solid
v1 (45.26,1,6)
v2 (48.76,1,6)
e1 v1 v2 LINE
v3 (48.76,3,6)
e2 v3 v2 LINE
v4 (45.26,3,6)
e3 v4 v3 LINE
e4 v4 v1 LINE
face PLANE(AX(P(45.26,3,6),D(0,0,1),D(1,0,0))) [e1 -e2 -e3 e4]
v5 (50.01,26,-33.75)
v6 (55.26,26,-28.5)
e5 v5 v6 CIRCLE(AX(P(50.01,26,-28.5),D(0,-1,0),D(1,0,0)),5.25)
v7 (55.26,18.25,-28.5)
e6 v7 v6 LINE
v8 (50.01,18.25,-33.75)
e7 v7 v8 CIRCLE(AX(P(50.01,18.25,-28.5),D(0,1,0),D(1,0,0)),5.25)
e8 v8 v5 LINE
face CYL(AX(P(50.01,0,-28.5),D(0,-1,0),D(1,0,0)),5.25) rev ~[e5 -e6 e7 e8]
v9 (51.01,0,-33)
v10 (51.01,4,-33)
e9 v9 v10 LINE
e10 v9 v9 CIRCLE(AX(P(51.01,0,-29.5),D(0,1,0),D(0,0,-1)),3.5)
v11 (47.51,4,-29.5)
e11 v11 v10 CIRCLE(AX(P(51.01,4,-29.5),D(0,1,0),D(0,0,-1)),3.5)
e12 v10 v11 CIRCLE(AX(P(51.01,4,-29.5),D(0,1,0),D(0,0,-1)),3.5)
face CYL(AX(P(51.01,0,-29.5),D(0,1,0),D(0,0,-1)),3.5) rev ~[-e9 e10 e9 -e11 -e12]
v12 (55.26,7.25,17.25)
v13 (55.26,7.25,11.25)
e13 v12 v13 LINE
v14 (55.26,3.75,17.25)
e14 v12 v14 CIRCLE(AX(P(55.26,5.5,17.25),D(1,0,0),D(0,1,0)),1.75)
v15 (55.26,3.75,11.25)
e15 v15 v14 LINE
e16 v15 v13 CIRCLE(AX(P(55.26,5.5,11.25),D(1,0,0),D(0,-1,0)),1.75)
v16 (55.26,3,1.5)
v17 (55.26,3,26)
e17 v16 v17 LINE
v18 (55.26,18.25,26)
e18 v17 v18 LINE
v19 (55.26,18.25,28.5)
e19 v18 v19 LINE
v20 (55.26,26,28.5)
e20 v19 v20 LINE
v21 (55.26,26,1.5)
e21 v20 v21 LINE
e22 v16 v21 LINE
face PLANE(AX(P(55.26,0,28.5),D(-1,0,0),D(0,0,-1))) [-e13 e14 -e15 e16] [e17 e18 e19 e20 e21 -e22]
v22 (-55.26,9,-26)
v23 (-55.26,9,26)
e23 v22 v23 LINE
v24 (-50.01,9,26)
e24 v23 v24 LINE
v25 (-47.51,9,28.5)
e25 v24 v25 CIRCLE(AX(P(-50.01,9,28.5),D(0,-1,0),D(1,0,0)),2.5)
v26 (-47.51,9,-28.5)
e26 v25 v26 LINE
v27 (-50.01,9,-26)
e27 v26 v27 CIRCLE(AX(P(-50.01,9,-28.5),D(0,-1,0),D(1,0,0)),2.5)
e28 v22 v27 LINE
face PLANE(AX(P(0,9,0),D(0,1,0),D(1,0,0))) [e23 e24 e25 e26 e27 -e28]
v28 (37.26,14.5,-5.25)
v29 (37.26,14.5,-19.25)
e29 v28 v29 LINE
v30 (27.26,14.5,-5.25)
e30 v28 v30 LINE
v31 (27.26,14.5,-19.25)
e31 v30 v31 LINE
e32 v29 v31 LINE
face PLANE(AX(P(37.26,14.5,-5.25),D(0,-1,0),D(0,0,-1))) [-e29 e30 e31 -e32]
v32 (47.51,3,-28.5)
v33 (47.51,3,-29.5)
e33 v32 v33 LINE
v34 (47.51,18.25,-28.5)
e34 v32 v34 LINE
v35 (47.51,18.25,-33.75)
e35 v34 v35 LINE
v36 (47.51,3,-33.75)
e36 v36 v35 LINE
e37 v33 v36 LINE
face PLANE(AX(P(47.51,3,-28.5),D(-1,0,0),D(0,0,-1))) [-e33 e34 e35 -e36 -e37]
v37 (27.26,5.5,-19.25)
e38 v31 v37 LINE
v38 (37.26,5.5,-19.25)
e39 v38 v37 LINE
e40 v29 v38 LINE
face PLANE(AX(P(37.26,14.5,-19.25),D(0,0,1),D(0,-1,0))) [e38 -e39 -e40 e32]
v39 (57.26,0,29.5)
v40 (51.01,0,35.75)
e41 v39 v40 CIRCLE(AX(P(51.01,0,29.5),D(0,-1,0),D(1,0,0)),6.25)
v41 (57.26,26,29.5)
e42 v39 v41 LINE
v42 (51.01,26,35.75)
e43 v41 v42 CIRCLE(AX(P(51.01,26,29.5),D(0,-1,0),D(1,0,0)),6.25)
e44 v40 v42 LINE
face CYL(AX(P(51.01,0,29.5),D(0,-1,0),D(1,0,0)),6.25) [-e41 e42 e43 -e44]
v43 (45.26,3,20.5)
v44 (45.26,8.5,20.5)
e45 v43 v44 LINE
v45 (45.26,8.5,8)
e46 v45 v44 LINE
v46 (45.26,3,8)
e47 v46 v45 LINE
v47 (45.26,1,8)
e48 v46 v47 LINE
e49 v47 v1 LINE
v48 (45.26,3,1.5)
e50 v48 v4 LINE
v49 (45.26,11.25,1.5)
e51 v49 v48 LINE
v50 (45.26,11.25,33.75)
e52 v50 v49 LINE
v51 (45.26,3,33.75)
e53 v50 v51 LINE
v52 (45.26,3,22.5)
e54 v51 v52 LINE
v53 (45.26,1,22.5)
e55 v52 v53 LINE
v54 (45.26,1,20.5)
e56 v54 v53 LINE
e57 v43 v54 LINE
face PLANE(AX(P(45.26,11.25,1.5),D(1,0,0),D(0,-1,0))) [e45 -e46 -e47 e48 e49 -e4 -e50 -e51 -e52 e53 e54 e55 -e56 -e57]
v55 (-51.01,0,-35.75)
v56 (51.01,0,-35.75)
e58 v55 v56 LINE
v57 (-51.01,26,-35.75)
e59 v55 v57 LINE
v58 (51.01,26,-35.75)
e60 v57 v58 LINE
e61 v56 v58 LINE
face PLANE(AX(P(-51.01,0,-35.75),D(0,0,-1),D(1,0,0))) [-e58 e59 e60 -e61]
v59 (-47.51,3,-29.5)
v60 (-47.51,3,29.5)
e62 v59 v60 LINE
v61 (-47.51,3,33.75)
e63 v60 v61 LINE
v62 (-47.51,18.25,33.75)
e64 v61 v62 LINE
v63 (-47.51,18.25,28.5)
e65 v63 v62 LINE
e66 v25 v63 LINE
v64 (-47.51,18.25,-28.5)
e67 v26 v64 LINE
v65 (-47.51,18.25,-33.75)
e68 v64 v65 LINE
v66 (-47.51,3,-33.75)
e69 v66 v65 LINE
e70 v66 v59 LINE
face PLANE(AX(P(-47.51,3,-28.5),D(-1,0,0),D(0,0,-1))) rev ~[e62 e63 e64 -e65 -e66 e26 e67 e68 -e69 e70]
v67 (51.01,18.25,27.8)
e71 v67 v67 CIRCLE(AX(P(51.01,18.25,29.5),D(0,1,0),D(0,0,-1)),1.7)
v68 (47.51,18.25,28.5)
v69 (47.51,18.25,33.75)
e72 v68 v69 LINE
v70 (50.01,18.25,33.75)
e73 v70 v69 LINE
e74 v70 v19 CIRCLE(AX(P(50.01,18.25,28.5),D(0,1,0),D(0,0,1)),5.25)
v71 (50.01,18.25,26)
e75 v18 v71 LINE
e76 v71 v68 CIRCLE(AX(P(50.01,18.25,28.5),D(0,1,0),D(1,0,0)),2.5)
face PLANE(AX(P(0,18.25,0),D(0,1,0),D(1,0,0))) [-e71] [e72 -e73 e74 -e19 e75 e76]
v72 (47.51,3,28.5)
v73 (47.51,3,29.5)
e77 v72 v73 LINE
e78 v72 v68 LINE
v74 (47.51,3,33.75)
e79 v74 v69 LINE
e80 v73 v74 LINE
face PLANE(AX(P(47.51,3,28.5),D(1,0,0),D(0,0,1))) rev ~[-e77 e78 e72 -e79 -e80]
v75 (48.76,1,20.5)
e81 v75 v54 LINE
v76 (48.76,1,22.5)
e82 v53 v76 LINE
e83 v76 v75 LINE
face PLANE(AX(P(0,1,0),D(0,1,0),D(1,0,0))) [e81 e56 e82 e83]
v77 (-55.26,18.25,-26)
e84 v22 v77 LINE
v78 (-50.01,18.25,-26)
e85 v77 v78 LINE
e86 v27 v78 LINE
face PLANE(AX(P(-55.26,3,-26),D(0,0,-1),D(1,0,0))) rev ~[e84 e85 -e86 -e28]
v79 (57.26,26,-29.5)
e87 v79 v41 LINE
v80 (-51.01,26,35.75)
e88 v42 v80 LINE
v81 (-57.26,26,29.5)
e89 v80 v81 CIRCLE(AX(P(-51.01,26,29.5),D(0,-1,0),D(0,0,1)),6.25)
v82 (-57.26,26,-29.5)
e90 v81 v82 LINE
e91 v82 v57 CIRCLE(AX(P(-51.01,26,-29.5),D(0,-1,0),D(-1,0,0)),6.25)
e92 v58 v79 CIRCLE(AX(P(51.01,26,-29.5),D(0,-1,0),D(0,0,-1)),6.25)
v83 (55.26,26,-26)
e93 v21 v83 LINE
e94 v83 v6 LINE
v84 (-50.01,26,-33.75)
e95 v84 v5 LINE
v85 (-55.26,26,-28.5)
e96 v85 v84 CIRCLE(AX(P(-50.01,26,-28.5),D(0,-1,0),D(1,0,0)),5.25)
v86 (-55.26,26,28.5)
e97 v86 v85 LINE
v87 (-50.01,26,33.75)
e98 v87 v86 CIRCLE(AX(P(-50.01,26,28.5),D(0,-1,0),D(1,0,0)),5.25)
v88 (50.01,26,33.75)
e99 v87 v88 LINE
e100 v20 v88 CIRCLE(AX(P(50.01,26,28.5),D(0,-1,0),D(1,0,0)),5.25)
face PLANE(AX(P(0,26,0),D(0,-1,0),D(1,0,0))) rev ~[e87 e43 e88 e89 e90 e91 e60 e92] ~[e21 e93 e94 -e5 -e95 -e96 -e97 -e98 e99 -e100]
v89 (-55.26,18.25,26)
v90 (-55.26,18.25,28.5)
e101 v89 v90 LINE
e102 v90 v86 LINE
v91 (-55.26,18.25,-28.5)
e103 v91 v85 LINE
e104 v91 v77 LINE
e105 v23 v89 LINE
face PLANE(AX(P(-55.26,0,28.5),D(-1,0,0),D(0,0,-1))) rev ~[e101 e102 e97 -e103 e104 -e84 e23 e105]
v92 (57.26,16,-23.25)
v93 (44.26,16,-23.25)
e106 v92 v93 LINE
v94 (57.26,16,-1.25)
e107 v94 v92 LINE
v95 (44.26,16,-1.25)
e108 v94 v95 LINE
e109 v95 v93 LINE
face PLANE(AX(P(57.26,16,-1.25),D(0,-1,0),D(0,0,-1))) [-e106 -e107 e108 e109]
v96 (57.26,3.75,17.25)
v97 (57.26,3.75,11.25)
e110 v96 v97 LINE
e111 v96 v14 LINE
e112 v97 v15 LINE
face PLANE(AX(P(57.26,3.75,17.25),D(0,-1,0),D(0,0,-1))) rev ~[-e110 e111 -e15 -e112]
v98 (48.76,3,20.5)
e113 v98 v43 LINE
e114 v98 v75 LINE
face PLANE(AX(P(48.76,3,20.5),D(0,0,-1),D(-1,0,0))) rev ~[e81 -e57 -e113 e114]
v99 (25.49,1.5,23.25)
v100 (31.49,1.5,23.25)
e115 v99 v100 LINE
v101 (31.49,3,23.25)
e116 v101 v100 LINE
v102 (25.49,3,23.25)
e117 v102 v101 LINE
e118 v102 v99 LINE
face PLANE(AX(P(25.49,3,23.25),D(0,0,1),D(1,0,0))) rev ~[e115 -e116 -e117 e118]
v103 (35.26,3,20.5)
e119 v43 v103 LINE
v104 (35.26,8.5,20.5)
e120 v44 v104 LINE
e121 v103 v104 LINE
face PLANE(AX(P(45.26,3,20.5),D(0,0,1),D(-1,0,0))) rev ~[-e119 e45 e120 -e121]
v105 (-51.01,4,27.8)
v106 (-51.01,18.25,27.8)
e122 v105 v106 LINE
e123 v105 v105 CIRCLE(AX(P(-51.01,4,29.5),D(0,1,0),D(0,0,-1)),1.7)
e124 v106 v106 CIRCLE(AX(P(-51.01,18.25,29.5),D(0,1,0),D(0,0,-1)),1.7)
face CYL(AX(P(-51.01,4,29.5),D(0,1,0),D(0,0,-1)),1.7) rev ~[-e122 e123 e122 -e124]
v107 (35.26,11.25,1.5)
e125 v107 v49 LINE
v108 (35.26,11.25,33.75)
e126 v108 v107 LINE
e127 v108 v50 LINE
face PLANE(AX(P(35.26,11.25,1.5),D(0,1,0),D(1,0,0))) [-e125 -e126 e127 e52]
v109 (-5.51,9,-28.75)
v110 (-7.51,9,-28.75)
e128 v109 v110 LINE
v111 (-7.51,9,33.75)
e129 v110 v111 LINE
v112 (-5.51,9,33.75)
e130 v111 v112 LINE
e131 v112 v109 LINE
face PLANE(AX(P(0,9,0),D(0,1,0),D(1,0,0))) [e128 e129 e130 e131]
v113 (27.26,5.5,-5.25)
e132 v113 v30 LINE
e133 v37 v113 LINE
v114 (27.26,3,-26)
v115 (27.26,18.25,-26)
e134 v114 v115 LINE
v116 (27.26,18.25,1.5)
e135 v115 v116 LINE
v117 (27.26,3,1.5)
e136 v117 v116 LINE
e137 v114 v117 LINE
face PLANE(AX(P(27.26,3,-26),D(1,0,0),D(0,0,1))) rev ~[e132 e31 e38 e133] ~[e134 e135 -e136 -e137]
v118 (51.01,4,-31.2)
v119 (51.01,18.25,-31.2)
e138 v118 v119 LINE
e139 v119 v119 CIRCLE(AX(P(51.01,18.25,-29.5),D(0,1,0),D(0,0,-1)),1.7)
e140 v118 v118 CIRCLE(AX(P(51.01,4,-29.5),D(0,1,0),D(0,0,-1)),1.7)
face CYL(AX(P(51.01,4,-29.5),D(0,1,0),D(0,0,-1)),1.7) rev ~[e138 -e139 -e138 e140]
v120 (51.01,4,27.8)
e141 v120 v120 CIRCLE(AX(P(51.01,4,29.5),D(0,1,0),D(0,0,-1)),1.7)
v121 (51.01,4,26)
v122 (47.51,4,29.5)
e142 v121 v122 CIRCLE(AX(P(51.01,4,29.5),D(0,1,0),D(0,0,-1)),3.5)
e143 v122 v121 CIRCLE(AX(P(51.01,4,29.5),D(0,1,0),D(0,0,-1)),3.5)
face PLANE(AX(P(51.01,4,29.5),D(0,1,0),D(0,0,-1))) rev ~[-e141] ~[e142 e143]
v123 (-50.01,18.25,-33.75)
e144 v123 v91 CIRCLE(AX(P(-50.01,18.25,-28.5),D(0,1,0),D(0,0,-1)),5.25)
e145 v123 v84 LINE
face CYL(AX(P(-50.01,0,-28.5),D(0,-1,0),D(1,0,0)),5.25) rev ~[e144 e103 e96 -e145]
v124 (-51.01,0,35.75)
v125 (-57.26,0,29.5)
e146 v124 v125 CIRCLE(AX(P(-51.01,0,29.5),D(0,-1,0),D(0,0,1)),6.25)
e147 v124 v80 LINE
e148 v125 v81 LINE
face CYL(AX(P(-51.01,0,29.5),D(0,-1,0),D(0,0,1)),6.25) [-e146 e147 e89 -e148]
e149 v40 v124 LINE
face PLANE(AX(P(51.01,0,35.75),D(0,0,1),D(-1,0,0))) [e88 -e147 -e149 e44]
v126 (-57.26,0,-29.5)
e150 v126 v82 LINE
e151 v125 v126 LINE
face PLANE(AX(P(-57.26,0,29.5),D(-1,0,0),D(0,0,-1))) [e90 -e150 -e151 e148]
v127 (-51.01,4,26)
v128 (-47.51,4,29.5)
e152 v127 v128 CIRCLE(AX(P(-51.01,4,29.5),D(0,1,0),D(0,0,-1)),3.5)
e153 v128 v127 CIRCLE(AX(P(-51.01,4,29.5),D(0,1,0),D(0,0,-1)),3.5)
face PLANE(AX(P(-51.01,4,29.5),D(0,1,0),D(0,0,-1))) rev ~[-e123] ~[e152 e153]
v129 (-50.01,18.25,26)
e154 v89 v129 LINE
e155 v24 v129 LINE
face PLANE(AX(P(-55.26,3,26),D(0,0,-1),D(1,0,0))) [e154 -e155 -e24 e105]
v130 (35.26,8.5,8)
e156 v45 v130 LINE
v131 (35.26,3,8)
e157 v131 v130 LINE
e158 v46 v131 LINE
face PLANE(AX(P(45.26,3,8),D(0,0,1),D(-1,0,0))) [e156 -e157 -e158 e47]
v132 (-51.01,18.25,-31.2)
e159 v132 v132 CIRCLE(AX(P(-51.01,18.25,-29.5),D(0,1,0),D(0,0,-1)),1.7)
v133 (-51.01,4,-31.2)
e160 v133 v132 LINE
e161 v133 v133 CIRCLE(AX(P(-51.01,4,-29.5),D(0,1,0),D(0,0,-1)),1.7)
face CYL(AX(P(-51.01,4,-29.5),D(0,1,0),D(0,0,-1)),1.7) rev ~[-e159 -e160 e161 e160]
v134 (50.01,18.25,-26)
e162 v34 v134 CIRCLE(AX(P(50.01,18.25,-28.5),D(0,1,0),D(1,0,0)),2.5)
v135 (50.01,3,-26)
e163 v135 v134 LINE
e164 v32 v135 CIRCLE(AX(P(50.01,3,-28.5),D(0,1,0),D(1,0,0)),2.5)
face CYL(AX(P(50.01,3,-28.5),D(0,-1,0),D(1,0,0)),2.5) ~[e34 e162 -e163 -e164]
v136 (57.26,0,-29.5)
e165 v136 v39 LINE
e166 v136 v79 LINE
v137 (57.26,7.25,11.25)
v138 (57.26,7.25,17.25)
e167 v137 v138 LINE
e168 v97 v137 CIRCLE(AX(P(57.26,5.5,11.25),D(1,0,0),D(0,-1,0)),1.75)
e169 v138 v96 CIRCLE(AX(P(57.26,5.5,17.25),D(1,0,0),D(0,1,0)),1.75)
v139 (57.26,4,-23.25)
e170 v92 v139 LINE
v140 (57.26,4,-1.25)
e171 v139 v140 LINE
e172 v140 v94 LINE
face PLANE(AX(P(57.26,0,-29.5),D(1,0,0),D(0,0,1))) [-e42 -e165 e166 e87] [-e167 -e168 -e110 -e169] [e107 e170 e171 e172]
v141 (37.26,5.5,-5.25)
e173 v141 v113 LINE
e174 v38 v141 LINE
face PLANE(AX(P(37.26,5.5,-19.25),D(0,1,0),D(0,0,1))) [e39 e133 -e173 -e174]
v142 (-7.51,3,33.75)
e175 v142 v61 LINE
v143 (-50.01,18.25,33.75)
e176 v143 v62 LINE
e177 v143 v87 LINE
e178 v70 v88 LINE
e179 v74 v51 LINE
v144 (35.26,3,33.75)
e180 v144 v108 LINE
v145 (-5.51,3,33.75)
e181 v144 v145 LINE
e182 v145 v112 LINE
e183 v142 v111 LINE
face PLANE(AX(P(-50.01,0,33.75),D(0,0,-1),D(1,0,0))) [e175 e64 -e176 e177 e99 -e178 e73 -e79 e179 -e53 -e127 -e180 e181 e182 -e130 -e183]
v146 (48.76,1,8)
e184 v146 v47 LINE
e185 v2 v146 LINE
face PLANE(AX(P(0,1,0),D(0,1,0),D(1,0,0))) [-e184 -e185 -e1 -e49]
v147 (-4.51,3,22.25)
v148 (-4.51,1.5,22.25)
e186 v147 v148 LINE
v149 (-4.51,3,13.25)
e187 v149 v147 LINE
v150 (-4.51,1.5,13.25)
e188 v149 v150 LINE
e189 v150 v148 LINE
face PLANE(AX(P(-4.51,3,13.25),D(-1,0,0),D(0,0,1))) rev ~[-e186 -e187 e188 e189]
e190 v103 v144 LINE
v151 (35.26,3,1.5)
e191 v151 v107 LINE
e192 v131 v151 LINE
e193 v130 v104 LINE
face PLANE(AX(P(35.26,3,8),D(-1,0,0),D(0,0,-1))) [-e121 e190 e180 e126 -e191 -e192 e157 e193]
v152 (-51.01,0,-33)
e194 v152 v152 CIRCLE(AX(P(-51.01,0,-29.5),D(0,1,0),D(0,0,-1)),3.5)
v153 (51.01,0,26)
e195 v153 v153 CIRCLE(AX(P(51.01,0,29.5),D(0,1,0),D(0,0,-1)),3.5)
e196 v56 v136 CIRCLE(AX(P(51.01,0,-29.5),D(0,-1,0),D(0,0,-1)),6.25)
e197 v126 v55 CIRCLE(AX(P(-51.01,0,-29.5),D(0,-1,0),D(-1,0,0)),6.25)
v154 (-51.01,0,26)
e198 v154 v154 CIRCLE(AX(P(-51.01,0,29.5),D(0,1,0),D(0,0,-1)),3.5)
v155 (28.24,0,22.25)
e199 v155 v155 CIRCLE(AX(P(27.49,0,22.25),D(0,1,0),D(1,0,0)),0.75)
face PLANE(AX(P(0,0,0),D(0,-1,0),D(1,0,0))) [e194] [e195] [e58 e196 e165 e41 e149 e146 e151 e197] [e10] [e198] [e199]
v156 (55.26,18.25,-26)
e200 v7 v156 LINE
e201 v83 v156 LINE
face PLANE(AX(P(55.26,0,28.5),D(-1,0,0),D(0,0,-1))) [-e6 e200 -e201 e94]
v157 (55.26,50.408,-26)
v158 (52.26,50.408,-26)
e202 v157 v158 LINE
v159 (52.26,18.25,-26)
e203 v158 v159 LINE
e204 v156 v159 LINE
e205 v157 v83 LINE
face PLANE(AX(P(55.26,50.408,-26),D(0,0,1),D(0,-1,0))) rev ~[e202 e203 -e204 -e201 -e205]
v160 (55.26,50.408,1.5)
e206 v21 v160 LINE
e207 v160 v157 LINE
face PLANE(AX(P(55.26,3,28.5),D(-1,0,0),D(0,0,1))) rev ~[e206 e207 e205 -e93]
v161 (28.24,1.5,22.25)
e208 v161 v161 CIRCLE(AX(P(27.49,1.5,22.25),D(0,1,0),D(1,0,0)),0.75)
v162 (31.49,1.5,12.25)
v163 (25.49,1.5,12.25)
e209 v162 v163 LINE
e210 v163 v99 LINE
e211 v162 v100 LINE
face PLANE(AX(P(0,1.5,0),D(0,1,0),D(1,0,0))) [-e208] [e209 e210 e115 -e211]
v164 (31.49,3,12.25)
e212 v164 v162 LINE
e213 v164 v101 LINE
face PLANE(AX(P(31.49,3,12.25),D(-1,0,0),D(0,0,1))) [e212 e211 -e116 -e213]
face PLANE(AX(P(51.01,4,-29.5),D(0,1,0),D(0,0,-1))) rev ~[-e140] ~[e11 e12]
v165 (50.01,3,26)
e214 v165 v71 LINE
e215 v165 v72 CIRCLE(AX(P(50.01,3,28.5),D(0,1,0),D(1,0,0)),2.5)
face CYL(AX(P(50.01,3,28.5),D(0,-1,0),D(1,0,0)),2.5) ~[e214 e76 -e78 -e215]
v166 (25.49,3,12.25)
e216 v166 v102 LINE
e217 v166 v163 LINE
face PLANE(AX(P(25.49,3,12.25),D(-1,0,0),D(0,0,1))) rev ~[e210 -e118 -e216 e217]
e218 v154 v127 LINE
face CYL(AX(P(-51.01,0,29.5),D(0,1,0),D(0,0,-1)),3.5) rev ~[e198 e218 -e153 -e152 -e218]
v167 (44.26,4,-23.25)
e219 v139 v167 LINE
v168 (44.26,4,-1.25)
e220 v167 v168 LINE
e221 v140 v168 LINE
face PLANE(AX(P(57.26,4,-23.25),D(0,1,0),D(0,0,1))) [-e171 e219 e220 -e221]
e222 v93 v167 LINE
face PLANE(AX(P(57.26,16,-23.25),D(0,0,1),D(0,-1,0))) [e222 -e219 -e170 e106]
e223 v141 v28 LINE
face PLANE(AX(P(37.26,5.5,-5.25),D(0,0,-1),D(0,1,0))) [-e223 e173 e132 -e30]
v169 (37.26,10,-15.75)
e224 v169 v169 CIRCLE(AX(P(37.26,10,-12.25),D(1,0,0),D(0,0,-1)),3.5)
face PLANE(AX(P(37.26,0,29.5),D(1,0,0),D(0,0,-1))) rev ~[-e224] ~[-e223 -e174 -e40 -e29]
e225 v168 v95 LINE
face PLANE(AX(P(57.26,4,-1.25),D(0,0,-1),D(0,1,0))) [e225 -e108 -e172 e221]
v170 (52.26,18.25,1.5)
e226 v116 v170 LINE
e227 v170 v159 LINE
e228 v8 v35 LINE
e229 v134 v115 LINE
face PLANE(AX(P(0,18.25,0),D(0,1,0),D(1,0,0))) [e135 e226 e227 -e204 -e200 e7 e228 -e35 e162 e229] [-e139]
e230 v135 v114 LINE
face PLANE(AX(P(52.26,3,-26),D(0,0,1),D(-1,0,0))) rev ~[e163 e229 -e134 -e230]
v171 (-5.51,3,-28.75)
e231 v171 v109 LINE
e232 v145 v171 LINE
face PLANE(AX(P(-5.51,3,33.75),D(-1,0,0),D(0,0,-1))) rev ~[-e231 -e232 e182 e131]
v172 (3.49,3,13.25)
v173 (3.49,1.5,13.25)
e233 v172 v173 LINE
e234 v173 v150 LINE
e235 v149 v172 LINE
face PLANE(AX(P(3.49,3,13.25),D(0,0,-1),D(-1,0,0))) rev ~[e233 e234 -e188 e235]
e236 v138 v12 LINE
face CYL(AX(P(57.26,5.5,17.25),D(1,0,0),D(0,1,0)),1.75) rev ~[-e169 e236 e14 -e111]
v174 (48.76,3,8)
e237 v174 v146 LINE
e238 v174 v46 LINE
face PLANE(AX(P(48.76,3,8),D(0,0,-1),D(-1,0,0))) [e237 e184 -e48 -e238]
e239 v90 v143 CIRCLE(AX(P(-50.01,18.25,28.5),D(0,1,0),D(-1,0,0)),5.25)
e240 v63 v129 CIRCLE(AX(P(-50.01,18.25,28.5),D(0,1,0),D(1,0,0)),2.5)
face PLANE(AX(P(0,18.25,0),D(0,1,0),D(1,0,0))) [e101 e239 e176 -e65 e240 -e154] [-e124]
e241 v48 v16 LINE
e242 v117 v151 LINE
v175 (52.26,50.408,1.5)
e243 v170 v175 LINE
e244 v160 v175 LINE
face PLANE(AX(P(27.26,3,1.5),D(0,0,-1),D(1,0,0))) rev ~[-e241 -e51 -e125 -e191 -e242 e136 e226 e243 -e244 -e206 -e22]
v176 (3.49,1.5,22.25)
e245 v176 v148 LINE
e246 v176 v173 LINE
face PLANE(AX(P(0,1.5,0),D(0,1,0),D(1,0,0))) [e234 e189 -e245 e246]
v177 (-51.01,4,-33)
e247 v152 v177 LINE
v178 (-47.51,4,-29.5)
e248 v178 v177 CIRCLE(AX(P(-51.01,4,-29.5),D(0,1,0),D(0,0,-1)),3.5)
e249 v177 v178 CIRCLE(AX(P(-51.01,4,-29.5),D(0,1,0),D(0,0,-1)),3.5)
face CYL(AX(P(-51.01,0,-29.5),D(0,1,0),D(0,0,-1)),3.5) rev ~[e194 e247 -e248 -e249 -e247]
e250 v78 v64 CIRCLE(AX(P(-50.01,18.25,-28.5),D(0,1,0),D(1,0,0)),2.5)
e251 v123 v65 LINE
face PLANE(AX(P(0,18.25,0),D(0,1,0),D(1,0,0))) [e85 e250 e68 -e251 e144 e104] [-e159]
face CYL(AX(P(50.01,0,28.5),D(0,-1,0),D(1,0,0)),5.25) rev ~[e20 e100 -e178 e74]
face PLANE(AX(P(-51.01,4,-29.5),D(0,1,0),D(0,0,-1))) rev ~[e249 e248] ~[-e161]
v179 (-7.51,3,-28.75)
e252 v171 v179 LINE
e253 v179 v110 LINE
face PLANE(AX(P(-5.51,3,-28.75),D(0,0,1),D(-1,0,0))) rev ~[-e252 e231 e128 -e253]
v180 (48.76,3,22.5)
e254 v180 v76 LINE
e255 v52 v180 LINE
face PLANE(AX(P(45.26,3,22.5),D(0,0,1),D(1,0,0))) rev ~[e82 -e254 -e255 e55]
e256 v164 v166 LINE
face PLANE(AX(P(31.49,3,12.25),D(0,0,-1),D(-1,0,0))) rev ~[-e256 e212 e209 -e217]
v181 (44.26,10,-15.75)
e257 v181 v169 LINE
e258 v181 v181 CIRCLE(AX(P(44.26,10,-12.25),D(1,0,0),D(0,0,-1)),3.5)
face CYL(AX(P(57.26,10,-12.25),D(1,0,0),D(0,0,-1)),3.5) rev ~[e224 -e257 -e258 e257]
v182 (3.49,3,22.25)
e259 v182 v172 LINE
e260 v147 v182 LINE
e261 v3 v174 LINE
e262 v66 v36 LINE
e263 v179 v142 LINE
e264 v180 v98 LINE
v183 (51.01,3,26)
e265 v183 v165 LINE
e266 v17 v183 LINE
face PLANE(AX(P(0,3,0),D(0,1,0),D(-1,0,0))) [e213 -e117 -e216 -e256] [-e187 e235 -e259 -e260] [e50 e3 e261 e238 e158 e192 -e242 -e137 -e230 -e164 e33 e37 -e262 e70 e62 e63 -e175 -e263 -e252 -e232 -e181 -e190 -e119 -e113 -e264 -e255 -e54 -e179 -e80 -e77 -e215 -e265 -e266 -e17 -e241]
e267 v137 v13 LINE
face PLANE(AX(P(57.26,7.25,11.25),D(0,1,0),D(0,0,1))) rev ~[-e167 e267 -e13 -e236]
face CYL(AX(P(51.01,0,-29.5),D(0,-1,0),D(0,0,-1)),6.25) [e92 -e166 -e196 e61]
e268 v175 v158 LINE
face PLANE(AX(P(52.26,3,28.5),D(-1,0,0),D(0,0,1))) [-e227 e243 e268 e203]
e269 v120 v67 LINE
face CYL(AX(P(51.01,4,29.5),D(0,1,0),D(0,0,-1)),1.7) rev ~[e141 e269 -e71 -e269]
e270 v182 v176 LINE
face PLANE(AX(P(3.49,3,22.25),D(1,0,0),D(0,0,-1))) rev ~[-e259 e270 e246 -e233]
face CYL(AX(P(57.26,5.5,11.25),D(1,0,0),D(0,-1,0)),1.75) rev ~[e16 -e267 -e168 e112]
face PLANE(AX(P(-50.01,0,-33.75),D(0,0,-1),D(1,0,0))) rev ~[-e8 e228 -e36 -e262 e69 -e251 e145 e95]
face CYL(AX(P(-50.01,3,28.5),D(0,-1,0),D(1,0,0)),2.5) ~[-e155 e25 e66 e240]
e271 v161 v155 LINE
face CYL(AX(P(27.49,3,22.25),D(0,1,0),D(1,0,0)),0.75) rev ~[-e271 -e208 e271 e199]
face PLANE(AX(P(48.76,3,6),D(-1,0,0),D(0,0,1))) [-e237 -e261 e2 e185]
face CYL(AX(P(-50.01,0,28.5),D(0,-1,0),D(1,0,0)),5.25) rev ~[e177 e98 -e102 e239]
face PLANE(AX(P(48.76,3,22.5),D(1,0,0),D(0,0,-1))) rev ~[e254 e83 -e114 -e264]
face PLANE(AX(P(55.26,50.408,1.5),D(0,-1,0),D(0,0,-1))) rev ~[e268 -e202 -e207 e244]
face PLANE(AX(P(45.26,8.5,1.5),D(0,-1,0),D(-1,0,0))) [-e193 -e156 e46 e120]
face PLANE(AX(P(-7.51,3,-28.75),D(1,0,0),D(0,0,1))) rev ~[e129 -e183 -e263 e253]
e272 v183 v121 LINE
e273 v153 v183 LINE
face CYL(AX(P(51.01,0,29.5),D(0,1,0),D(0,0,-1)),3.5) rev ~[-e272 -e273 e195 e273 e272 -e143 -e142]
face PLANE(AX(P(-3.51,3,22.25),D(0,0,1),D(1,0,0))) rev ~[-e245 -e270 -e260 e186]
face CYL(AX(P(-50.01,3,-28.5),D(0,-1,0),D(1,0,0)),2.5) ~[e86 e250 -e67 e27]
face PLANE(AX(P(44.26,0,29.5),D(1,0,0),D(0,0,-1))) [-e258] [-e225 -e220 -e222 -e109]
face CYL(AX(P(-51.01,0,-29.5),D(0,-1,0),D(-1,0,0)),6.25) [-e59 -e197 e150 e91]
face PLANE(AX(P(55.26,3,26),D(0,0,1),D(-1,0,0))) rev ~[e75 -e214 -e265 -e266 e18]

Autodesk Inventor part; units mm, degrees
ref_plane "YZ Plane" through (0, 0, 0) normal (1, 0, 0) x (0, 1, 0)
ref_plane "XZ Plane" through (0, 0, 0) normal (0, 1, 0) x (-1, 0, 0)
sketch "Sketch1" plane through (0, 0, 0) normal (0, 1, 0) x (-1, 0, 0)
  line L0 (-55.26, 33.75) -> (55.26, 33.75)
  line L1 (55.26, 33.75) -> (55.26, -33.75)
  line L2 (55.26, -33.75) -> (-55.26, -33.75)
  line L3 (-55.26, -33.75) -> (-55.26, 33.75)
  line L4 (-55.26, 33.75) -> (55.26, -33.75) construction
  line L5 (55.26, 33.75) -> (-55.26, -33.75) construction
  point P0 (0, 0)
  dimension "d0" = 110.52
  dimension "d1" = 67.5
extrude "Extrusion1" add sketch "Sketch1" along normal blind 3
fillet "Fillet1" radius 5.25 4 edges at (-55.26, 1.5, 33.75) (55.26, 1.5, 33.75) (55.26, 1.5, -33.75) (-55.26, 1.5, -33.75)
sketch "Sketch2" plane through (0, 0, 0) normal (0, -1, 0) x (1, 0, 0)
  arc A0 (-55.26, -28.5) -> (-50.01, -33.75) centre (-50.01, -28.5) ccw construction
  line L0 (50.01, -33.75) -> (-50.01, -33.75) construction
  arc A1 (50.01, -33.75) -> (55.26, -28.5) centre (50.01, -28.5) ccw construction
  line L1 (55.26, 28.5) -> (55.26, -28.5) construction
  arc A2 (55.26, 28.5) -> (50.01, 33.75) centre (50.01, 28.5) ccw construction
  line L2 (-50.01, 33.75) -> (50.01, 33.75) construction
  arc A3 (-50.01, 33.75) -> (-55.26, 28.5) centre (-50.01, 28.5) ccw construction
  line L3 (-55.26, -28.5) -> (-55.26, 28.5) construction
  circle A4 centre (-50.01, 28.5) radius 5.25
  line L4 (-50.01, 33.75) -> (50.01, 33.75) construction
  line L5 (-50.01, 33.75) -> (50.01, 33.75)
  line L6 (-55.26, 28.5) -> (-55.26, -28.5)
  circle A5 centre (-50.01, -28.5) radius 5.25
  line L7 (-50.01, -33.75) -> (50.01, -33.75)
  circle A6 centre (50.01, -28.5) radius 5.25
  line L8 (55.26, 28.5) -> (55.26, -28.5)
  circle A7 centre (50.01, 28.5) radius 5.25
  line L9 (51.01, 35.75) -> (-51.01, 35.75)
  line L10 (-57.26, 29.5) -> (-57.26, -29.5)
  line L11 (-51.01, -35.75) -> (51.01, -35.75)
  line L12 (57.26, -29.5) -> (57.26, 29.5)
  line L13 (57.26, 35.75) -> (-57.26, -35.75) construction
  line L14 (-57.26, 35.75) -> (57.26, -35.75) construction
  arc A8 (-51.01, 35.75) -> (-57.26, 29.5) centre (-51.01, 29.5) ccw
  arc A9 (-57.26, -29.5) -> (-51.01, -35.75) centre (-51.01, -29.5) ccw
  arc A10 (51.01, -35.75) -> (57.26, -29.5) centre (51.01, -29.5) ccw
  arc A11 (57.26, 29.5) -> (51.01, 35.75) centre (51.01, 29.5) ccw
  point P0 (0, 0)
  point P1 (55.26, -28.5)
  point P2 (50.01, 33.75)
  dimension "d5" = 2
  dimension "d6" = 2
  dimension "d7" = 6.25
  dimension "d8" = 6.25
extrude "Extrusion2" add sketch "Sketch2" against normal blind 26
sketch "Sketch3" plane through (55.26, 3, 28.5) normal (-1, 0, 0) x (0, 0, 1)
  line L0 (0, 0) -> (-57, 0) construction
  line L1 (-57, 23) -> (0, 23) construction
  line L2 (-54.5, 0) -> (-27, 0)
  line L3 (-27, 0) -> (-27, 47.408)
  line L4 (-27, 47.408) -> (-54.5, 47.408)
  line L5 (-54.5, 47.408) -> (-54.5, 0)
  line L6 (-62.25, 0) -> (-62.25, 23) construction
  point P0 (-28.5, -3)
  point P1 (-54.5, 23.704)
  point P2 (-40.75, 47.408)
  dimension "d11" = 7.75
  dimension "d12" = 27.5
  dimension "d13" = 24.408
extrude "Extrusion3" add sketch "Sketch3" along normal blind 3
sketch "Sketch4" plane through (0, 3, 0) normal (0, 1, 0) x (1, 0, 0)
  arc A0 (55.26, 28.5) -> (50.01, 33.75) centre (50.01, 28.5) ccw construction
  line L0 (50.01, 33.75) -> (-50.01, 33.75) construction
  line L1 (-50.01, -33.75) -> (50.01, -33.75) construction
  arc A1 (50.01, -33.75) -> (55.26, -28.5) centre (50.01, -28.5) ccw construction
  line L2 (55.26, -28.5) -> (55.26, -1.5) construction
  circle A2 centre (50.01, 28.5) radius 2.5
  circle A3 centre (50.01, -28.5) radius 2.5
  line L3 (47.51, -28.5) -> (47.51, -33.75)
  line L4 (55.26, -26) -> (50.01, -26)
  line L5 (0, 0) -> (0, -21.4582)
  line L6 (0, 0) -> (16.5599, 0)
  line L7 (47.51, 28.5) -> (47.51, 33.75)
  line L8 (55.26, 26) -> (50.01, 26)
  circle A4 centre (-50.01, 28.5) radius 2.5
  circle A5 centre (-50.01, -28.5) radius 2.5
  line L9 (-47.51, -28.5) -> (-47.51, -33.75)
  line L10 (-55.26, -26) -> (-50.01, -26)
  line L11 (-47.51, 28.5) -> (-47.51, 33.75)
  line L12 (-55.26, 26) -> (-50.01, 26)
  line L13 (55.26, 28.5) -> (55.26, -28.5)
  line L14 (50.01, 33.75) -> (5.9104, 33.75)
  arc A6 (55.26, 28.5) -> (50.01, 33.75) centre (50.01, 28.5) ccw
  arc A7 (50.01, -33.75) -> (55.26, -28.5) centre (50.01, -28.5) ccw
  line L15 (50.01, -33.75) -> (5.9104, -33.75)
  line L16 (-55.26, 26) -> (-55.26, 28.5) construction
  arc A8 (-50.01, 33.75) -> (-55.26, 28.5) centre (-50.01, 28.5) ccw construction
  line L17 (-50.01, 33.75) -> (50.01, 33.75) construction
  arc A9 (-55.26, -28.5) -> (-50.01, -33.75) centre (-50.01, -28.5) ccw construction
  line L18 (-55.26, -28.5) -> (-55.26, -1.5) construction
  line L19 (-55.26, 28.5) -> (-55.26, -28.5)
  line L20 (-50.01, 33.75) -> (-5.9104, 33.75)
  arc A10 (-50.01, 33.75) -> (-55.26, 28.5) centre (-50.01, 28.5) ccw
  arc A11 (-55.26, -28.5) -> (-50.01, -33.75) centre (-50.01, -28.5) ccw
  line L21 (-50.01, -33.75) -> (-5.9104, -33.75)
  point P0 (-47.51, 28.5)
  dimension "d16" = 5
  dimension "d17" = 5
extrude "Extrusion4" add sketch "Sketch4" along normal blind 15.25
ref_plane "Work Plane1" through (0, 11.25, 0) normal (0, 1, 0) x (1, 0, 0)
sketch "Sketch5" plane through (0, 3, 0) normal (0, 1, 0) x (1, 0, 0)
  line L0 (-47.51, -33.75) -> (47.51, -33.75) construction
  arc A0 (-55.26, -28.5) -> (-50.01, -33.75) centre (-50.01, -28.5) ccw construction
  line L1 (-47.51, 28.5) -> (-55.26, 28.5)
  line L2 (-55.26, 28.5) -> (-55.26, -28.5)
  line L3 (-55.26, -28.5) -> (-47.51, -28.5)
  line L4 (-47.51, -28.5) -> (-47.51, 28.5)
  line L5 (-7.51, -33.75) -> (-5.51, -33.75)
  line L6 (-5.51, -33.75) -> (-5.51, 28.75)
  line L7 (-5.51, 28.75) -> (-7.51, 28.75)
  line L8 (-7.51, 28.75) -> (-7.51, -33.75)
  line L9 (-1.51, -33.75) -> (0.49, -33.75)
  dimension "d21" = 2
  dimension "d22" = 40
extrude "Extrusion5" add sketch "Sketch5" along normal blind 6
sketch "Sketch6" plane through (0, 3, 0) normal (0, 1, 0) x (1, 0, 0)
  line L0 (55.26, -1.5) -> (52.26, -1.5) construction
  line L1 (52.26, 26) -> (27.26, 26)
  line L2 (27.26, 26) -> (27.26, -1.5)
  line L3 (27.26, -1.5) -> (52.26, -1.5)
  line L4 (52.26, -1.5) -> (52.26, 26)
  line L5 (57.26, -29.5) -> (57.26, 29.5) construction
  point P0 (0, 0)
  point P1 (27.26, 12.25)
  dimension "d29" = 30
extrude "Extrusion6" add sketch "Sketch6" along normal up to surface (15.25 mm away)
sketch "Sketch7" plane through (57.26, 0, 29.5) normal (1, 0, 0) x (0, 0, -1)
  line L0 (59, 0) -> (0, 0) construction
  line L1 (0, 26) -> (59, 26) construction
  line L2 (48.75, 5.5) -> (34.75, 5.5)
  line L3 (34.75, 5.5) -> (34.75, 14.5)
  line L4 (34.75, 14.5) -> (48.75, 14.5)
  line L5 (48.75, 14.5) -> (48.75, 5.5)
  line L6 (48.75, 5.5) -> (34.75, 14.5) construction
  line L7 (34.75, 5.5) -> (48.75, 14.5) construction
  circle A0 centre (41.75, 10) radius 3.5
  line L8 (30.75, 16) -> (52.75, 16)
  line L9 (52.75, 16) -> (52.75, 4)
  line L10 (52.75, 4) -> (30.75, 4)
  line L11 (30.75, 4) -> (30.75, 16)
  line L12 (30.75, 16) -> (52.75, 4) construction
  line L13 (52.75, 16) -> (30.75, 4) construction
  line L14 (52.75, 16) -> (52.75, 26)
  line L15 (55.5, 50.408) -> (55.5, 18.25) construction
  line L16 (55.5, 26) -> (52.75, 26)
  line L17 (28, 26) -> (28, 50.408) construction
  line L18 (28, 26) -> (30.75, 26)
  line L19 (30.75, 16) -> (30.75, 26)
  point P0 (29.5, 0)
  dimension "d32" = 14
  dimension "d33" = 9
  dimension "d34" = 7
  dimension "d35" = 22
  dimension "d36" = 12
  dimension "d37" = 4
extrude "Extrusion7" cut sketch "Sketch7" against normal blind 13 contours L2 L3 L4 L5 | A0 | L8 L9 L10 L11
extrude "Extrusion8" cut sketch "Sketch7" against normal blind 20 contours A0
extrude "Extrusion9" cut sketch "Sketch7" against normal up to surface (10 mm away) from surface at -20 contours L2 L3 L4 L5 | A0
sketch "Sketch8" plane through (0, 3, 0) normal (0, 1, 0) x (1, 0, 0)
  line L0 (55.26, -1.5) -> (27.26, -1.5) construction
  line L1 (47.51, 33.75) -> (-47.51, 33.75) construction
  line L2 (-5.51, 28.75) -> (-5.51, -33.75) construction
  line L3 (-1.51, 25.75) -> (16.49, 25.75)
  line L4 (16.49, 25.75) -> (16.49, -1.75)
  line L5 (16.49, -1.75) -> (-1.51, -1.75)
  line L6 (-1.51, -1.75) -> (-1.51, 25.75)
  line L7 (-3.51, -8.5) -> (31.49, -8.5)
  line L8 (31.49, -8.5) -> (31.49, -27)
  line L9 (31.49, -27) -> (-3.51, -27)
  line L10 (-3.51, -27) -> (-3.51, -8.5)
  line L11 (57.26, -29.5) -> (57.26, 29.5) construction
  line L12 (-4.51, -22.25) -> (3.49, -22.25)
  line L13 (3.49, -22.25) -> (3.49, -13.25)
  line L14 (3.49, -13.25) -> (-4.51, -13.25)
  line L15 (-4.51, -13.25) -> (-4.51, -22.25)
  line L16 (-4.51, -22.25) -> (3.49, -13.25) construction
  line L17 (3.49, -22.25) -> (-4.51, -13.25) construction
  line L18 (25.49, -23.25) -> (31.49, -23.25)
  line L19 (31.49, -23.25) -> (31.49, -12.25)
  line L20 (31.49, -12.25) -> (25.49, -12.25)
  line L21 (25.49, -12.25) -> (25.49, -23.25)
  line L22 (25.49, -23.25) -> (31.49, -12.25) construction
  line L23 (31.49, -23.25) -> (25.49, -12.25) construction
  circle A0 centre (27.49, -22.25) radius 0.75
  point P0 (0, 0)
  point P1 (-0.51, -17.75)
  point P2 (-4.51, -17.75)
  point P3 (-3.51, -17.75)
  point P4 (28.49, -17.75)
  point P5 (31.49, -17.75)
  dimension "d44" = 18
  dimension "d45" = 27.5
  dimension "d46" = 8
  dimension "d48" = 35
  dimension "d49" = 18.5
  dimension "d52" = 7
  dimension "d59" = 2
  dimension "d60" = 4
  dimension "d75" = 1
  dimension "d76" = 9
  dimension "d77" = 8
  dimension "d78" = 11
  dimension "d79" = 6
  dimension "d80" = 1.5
  dimension "d81" = 1
  dimension "d82" = 2
sketch "Sketch9" plane through (55.26, 26, 1.5) normal (0, 0, 1) x (1, 0, 0)
  line L0 (-3, -7.75) -> (-28, -7.75) construction
  line L1 (0, -23) -> (-28, -23) construction
  line L2 (-20, -14.75) -> (-10, -14.75)
  line L3 (-10, -14.75) -> (-10, -17.5)
  line L4 (-10, -17.5) -> (-20, -17.5)
  line L5 (-20, -17.5) -> (-20, -14.75)
  line L6 (2, -22) -> (2, -10) construction
  point P0 (-55.26, -26)
  point P1 (-20, -16.125)
  point P2 (-10, -16.125)
  point P3 (2, -16)
  point P4 (-15, -14.75)
  dimension "d53" = 7
  dimension "d54" = 5.5
  dimension "d55" = 10
  dimension "d56" = 17
extrude "Extrusion10" add sketch "Sketch9" along normal up to surface (32.25 mm away)
sketch "Sketch10" plane through (57.26, 0, 29.5) normal (1, 0, 0) x (0, 0, -1)
  line L0 (12.25, 5.5) -> (18.25, 5.5) construction
  line L1 (12.25, 3.75) -> (18.25, 3.75)
  line L2 (18.25, 7.25) -> (12.25, 7.25)
  arc A0 (12.25, 7.25) -> (12.25, 3.75) centre (12.25, 5.5) ccw
  arc A1 (18.25, 3.75) -> (18.25, 7.25) centre (18.25, 5.5) ccw
  line L3 (3.5, 3) -> (3.5, 18.25) construction
  line L4 (3.5, 3) -> (28, 3) construction
  point P0 (29.5, 0)
  point P1 (15.25, 5.5)
  point P2 (20, 5.5)
  point P3 (10.5, 5.5)
  dimension "d61" = 3.5
  dimension "d62" = 9.5
  dimension "d63" = 7
  dimension "d64" = 0.75
extrude "Extrusion11" cut sketch "Sketch10" against normal blind 10
sketch "Sketch11" plane through (0, 3, 0) normal (0, 1, 0) x (1, 0, 0)
  line L0 (55.26, -26) -> (55.26, -1.5) construction
  line L1 (48.76, -8) -> (55.26, -8)
  line L2 (55.26, -8) -> (55.26, -20.5)
  line L3 (55.26, -20.5) -> (48.76, -20.5)
  line L4 (48.76, -20.5) -> (48.76, -8)
  line L5 (48.76, -8) -> (55.26, -20.5) construction
  line L6 (55.26, -8) -> (48.76, -20.5) construction
  line L7 (45.26, -1.5) -> (45.26, -33.75) construction
  line L8 (48.76, -8) -> (45.26, -8)
  line L9 (45.26, -8) -> (45.26, -6)
  line L10 (45.26, -6) -> (48.76, -6)
  line L11 (48.76, -6) -> (48.76, -8)
  line L12 (48.76, -20.5) -> (45.26, -20.5)
  line L13 (45.26, -20.5) -> (45.26, -22.5)
  line L14 (45.26, -22.5) -> (48.76, -22.5)
  line L15 (48.76, -22.5) -> (48.76, -20.5)
  line L16 (50.01, -26) -> (55.26, -26) projected
  point P0 (0, 0)
  point P1 (52.01, -14.25)
  point P2 (55.26, -13.75)
  point P3 (55.26, -14.25)
  dimension "d67" = 12.5
  dimension "d68" = 6.5
  dimension "d69" = 2
  dimension "d70" = 2
  dimension "d102" = 11.75
extrude "Extrusion12" cut sketch "Sketch11" against normal blind 2 contours L15 L14 L13 L12 | L8 L9 L10 L11
sketch "Sketch12" plane through (0, 3, 0) normal (0, 1, 0) x (1, 0, 0)
  line L0 (35.26, -1.5) -> (35.26, -33.75) construction
  line L1 (35.26, -1.5) -> (45.26, -1.5)
  line L2 (45.26, -1.5) -> (45.26, -8)
  line L3 (45.26, -8) -> (35.26, -8)
  line L4 (35.26, -8) -> (35.26, -1.5)
  line L5 (35.26, -33.75) -> (45.26, -33.75)
  line L6 (45.26, -33.75) -> (45.26, -20.5)
  line L7 (45.26, -20.5) -> (35.26, -20.5)
  line L8 (35.26, -20.5) -> (35.26, -33.75)
  point P0 (0, 0)
extrude "Extrusion13" add sketch "Sketch12" along normal up to surface (8.25 mm away)
extrude "Extrusion14" cut sketch "Sketch8" against normal blind 1.5 contours L14 L13 L12 L10 | L10 L12 L15 L14 | L8 L18 L21 L20 | A0
extrude "Extrusion15" cut sketch "Sketch8" against normal through all contours A0
sketch "Sketch14" plane through (0, 0, 0) normal (0, -1, 0) x (1, 0, 0)
  arc A0 (51.01, -35.75) -> (57.26, -29.5) centre (51.01, -29.5) ccw projected
  arc A1 (55.26, 28.5) -> (50.01, 33.75) centre (50.01, 28.5) ccw projected
  arc A2 (57.26, 29.5) -> (51.01, 35.75) centre (51.01, 29.5) ccw projected
  arc A3 (-51.01, 35.75) -> (-57.26, 29.5) centre (-51.01, 29.5) ccw projected
  arc A4 (-50.01, 33.75) -> (-55.26, 28.5) centre (-50.01, 28.5) ccw projected
  arc A5 (-57.26, -29.5) -> (-51.01, -35.75) centre (-51.01, -29.5) ccw projected
  arc A6 (-55.26, -28.5) -> (-50.01, -33.75) centre (-50.01, -28.5) ccw projected
  arc A7 (50.01, -33.75) -> (55.26, -28.5) centre (50.01, -28.5) ccw projected
  point P0 (0, 0)
hole "Hole2" at (51.01, 0, -29.5) at (-51.01, 0, -29.5) at (-51.01, 0, 29.5) at (51.01, 0, 29.5) direction (0, 1, 0) diameter 3.4 end through all counterbore diameter 7 counterbore depth 4
properties part number "bottom"
